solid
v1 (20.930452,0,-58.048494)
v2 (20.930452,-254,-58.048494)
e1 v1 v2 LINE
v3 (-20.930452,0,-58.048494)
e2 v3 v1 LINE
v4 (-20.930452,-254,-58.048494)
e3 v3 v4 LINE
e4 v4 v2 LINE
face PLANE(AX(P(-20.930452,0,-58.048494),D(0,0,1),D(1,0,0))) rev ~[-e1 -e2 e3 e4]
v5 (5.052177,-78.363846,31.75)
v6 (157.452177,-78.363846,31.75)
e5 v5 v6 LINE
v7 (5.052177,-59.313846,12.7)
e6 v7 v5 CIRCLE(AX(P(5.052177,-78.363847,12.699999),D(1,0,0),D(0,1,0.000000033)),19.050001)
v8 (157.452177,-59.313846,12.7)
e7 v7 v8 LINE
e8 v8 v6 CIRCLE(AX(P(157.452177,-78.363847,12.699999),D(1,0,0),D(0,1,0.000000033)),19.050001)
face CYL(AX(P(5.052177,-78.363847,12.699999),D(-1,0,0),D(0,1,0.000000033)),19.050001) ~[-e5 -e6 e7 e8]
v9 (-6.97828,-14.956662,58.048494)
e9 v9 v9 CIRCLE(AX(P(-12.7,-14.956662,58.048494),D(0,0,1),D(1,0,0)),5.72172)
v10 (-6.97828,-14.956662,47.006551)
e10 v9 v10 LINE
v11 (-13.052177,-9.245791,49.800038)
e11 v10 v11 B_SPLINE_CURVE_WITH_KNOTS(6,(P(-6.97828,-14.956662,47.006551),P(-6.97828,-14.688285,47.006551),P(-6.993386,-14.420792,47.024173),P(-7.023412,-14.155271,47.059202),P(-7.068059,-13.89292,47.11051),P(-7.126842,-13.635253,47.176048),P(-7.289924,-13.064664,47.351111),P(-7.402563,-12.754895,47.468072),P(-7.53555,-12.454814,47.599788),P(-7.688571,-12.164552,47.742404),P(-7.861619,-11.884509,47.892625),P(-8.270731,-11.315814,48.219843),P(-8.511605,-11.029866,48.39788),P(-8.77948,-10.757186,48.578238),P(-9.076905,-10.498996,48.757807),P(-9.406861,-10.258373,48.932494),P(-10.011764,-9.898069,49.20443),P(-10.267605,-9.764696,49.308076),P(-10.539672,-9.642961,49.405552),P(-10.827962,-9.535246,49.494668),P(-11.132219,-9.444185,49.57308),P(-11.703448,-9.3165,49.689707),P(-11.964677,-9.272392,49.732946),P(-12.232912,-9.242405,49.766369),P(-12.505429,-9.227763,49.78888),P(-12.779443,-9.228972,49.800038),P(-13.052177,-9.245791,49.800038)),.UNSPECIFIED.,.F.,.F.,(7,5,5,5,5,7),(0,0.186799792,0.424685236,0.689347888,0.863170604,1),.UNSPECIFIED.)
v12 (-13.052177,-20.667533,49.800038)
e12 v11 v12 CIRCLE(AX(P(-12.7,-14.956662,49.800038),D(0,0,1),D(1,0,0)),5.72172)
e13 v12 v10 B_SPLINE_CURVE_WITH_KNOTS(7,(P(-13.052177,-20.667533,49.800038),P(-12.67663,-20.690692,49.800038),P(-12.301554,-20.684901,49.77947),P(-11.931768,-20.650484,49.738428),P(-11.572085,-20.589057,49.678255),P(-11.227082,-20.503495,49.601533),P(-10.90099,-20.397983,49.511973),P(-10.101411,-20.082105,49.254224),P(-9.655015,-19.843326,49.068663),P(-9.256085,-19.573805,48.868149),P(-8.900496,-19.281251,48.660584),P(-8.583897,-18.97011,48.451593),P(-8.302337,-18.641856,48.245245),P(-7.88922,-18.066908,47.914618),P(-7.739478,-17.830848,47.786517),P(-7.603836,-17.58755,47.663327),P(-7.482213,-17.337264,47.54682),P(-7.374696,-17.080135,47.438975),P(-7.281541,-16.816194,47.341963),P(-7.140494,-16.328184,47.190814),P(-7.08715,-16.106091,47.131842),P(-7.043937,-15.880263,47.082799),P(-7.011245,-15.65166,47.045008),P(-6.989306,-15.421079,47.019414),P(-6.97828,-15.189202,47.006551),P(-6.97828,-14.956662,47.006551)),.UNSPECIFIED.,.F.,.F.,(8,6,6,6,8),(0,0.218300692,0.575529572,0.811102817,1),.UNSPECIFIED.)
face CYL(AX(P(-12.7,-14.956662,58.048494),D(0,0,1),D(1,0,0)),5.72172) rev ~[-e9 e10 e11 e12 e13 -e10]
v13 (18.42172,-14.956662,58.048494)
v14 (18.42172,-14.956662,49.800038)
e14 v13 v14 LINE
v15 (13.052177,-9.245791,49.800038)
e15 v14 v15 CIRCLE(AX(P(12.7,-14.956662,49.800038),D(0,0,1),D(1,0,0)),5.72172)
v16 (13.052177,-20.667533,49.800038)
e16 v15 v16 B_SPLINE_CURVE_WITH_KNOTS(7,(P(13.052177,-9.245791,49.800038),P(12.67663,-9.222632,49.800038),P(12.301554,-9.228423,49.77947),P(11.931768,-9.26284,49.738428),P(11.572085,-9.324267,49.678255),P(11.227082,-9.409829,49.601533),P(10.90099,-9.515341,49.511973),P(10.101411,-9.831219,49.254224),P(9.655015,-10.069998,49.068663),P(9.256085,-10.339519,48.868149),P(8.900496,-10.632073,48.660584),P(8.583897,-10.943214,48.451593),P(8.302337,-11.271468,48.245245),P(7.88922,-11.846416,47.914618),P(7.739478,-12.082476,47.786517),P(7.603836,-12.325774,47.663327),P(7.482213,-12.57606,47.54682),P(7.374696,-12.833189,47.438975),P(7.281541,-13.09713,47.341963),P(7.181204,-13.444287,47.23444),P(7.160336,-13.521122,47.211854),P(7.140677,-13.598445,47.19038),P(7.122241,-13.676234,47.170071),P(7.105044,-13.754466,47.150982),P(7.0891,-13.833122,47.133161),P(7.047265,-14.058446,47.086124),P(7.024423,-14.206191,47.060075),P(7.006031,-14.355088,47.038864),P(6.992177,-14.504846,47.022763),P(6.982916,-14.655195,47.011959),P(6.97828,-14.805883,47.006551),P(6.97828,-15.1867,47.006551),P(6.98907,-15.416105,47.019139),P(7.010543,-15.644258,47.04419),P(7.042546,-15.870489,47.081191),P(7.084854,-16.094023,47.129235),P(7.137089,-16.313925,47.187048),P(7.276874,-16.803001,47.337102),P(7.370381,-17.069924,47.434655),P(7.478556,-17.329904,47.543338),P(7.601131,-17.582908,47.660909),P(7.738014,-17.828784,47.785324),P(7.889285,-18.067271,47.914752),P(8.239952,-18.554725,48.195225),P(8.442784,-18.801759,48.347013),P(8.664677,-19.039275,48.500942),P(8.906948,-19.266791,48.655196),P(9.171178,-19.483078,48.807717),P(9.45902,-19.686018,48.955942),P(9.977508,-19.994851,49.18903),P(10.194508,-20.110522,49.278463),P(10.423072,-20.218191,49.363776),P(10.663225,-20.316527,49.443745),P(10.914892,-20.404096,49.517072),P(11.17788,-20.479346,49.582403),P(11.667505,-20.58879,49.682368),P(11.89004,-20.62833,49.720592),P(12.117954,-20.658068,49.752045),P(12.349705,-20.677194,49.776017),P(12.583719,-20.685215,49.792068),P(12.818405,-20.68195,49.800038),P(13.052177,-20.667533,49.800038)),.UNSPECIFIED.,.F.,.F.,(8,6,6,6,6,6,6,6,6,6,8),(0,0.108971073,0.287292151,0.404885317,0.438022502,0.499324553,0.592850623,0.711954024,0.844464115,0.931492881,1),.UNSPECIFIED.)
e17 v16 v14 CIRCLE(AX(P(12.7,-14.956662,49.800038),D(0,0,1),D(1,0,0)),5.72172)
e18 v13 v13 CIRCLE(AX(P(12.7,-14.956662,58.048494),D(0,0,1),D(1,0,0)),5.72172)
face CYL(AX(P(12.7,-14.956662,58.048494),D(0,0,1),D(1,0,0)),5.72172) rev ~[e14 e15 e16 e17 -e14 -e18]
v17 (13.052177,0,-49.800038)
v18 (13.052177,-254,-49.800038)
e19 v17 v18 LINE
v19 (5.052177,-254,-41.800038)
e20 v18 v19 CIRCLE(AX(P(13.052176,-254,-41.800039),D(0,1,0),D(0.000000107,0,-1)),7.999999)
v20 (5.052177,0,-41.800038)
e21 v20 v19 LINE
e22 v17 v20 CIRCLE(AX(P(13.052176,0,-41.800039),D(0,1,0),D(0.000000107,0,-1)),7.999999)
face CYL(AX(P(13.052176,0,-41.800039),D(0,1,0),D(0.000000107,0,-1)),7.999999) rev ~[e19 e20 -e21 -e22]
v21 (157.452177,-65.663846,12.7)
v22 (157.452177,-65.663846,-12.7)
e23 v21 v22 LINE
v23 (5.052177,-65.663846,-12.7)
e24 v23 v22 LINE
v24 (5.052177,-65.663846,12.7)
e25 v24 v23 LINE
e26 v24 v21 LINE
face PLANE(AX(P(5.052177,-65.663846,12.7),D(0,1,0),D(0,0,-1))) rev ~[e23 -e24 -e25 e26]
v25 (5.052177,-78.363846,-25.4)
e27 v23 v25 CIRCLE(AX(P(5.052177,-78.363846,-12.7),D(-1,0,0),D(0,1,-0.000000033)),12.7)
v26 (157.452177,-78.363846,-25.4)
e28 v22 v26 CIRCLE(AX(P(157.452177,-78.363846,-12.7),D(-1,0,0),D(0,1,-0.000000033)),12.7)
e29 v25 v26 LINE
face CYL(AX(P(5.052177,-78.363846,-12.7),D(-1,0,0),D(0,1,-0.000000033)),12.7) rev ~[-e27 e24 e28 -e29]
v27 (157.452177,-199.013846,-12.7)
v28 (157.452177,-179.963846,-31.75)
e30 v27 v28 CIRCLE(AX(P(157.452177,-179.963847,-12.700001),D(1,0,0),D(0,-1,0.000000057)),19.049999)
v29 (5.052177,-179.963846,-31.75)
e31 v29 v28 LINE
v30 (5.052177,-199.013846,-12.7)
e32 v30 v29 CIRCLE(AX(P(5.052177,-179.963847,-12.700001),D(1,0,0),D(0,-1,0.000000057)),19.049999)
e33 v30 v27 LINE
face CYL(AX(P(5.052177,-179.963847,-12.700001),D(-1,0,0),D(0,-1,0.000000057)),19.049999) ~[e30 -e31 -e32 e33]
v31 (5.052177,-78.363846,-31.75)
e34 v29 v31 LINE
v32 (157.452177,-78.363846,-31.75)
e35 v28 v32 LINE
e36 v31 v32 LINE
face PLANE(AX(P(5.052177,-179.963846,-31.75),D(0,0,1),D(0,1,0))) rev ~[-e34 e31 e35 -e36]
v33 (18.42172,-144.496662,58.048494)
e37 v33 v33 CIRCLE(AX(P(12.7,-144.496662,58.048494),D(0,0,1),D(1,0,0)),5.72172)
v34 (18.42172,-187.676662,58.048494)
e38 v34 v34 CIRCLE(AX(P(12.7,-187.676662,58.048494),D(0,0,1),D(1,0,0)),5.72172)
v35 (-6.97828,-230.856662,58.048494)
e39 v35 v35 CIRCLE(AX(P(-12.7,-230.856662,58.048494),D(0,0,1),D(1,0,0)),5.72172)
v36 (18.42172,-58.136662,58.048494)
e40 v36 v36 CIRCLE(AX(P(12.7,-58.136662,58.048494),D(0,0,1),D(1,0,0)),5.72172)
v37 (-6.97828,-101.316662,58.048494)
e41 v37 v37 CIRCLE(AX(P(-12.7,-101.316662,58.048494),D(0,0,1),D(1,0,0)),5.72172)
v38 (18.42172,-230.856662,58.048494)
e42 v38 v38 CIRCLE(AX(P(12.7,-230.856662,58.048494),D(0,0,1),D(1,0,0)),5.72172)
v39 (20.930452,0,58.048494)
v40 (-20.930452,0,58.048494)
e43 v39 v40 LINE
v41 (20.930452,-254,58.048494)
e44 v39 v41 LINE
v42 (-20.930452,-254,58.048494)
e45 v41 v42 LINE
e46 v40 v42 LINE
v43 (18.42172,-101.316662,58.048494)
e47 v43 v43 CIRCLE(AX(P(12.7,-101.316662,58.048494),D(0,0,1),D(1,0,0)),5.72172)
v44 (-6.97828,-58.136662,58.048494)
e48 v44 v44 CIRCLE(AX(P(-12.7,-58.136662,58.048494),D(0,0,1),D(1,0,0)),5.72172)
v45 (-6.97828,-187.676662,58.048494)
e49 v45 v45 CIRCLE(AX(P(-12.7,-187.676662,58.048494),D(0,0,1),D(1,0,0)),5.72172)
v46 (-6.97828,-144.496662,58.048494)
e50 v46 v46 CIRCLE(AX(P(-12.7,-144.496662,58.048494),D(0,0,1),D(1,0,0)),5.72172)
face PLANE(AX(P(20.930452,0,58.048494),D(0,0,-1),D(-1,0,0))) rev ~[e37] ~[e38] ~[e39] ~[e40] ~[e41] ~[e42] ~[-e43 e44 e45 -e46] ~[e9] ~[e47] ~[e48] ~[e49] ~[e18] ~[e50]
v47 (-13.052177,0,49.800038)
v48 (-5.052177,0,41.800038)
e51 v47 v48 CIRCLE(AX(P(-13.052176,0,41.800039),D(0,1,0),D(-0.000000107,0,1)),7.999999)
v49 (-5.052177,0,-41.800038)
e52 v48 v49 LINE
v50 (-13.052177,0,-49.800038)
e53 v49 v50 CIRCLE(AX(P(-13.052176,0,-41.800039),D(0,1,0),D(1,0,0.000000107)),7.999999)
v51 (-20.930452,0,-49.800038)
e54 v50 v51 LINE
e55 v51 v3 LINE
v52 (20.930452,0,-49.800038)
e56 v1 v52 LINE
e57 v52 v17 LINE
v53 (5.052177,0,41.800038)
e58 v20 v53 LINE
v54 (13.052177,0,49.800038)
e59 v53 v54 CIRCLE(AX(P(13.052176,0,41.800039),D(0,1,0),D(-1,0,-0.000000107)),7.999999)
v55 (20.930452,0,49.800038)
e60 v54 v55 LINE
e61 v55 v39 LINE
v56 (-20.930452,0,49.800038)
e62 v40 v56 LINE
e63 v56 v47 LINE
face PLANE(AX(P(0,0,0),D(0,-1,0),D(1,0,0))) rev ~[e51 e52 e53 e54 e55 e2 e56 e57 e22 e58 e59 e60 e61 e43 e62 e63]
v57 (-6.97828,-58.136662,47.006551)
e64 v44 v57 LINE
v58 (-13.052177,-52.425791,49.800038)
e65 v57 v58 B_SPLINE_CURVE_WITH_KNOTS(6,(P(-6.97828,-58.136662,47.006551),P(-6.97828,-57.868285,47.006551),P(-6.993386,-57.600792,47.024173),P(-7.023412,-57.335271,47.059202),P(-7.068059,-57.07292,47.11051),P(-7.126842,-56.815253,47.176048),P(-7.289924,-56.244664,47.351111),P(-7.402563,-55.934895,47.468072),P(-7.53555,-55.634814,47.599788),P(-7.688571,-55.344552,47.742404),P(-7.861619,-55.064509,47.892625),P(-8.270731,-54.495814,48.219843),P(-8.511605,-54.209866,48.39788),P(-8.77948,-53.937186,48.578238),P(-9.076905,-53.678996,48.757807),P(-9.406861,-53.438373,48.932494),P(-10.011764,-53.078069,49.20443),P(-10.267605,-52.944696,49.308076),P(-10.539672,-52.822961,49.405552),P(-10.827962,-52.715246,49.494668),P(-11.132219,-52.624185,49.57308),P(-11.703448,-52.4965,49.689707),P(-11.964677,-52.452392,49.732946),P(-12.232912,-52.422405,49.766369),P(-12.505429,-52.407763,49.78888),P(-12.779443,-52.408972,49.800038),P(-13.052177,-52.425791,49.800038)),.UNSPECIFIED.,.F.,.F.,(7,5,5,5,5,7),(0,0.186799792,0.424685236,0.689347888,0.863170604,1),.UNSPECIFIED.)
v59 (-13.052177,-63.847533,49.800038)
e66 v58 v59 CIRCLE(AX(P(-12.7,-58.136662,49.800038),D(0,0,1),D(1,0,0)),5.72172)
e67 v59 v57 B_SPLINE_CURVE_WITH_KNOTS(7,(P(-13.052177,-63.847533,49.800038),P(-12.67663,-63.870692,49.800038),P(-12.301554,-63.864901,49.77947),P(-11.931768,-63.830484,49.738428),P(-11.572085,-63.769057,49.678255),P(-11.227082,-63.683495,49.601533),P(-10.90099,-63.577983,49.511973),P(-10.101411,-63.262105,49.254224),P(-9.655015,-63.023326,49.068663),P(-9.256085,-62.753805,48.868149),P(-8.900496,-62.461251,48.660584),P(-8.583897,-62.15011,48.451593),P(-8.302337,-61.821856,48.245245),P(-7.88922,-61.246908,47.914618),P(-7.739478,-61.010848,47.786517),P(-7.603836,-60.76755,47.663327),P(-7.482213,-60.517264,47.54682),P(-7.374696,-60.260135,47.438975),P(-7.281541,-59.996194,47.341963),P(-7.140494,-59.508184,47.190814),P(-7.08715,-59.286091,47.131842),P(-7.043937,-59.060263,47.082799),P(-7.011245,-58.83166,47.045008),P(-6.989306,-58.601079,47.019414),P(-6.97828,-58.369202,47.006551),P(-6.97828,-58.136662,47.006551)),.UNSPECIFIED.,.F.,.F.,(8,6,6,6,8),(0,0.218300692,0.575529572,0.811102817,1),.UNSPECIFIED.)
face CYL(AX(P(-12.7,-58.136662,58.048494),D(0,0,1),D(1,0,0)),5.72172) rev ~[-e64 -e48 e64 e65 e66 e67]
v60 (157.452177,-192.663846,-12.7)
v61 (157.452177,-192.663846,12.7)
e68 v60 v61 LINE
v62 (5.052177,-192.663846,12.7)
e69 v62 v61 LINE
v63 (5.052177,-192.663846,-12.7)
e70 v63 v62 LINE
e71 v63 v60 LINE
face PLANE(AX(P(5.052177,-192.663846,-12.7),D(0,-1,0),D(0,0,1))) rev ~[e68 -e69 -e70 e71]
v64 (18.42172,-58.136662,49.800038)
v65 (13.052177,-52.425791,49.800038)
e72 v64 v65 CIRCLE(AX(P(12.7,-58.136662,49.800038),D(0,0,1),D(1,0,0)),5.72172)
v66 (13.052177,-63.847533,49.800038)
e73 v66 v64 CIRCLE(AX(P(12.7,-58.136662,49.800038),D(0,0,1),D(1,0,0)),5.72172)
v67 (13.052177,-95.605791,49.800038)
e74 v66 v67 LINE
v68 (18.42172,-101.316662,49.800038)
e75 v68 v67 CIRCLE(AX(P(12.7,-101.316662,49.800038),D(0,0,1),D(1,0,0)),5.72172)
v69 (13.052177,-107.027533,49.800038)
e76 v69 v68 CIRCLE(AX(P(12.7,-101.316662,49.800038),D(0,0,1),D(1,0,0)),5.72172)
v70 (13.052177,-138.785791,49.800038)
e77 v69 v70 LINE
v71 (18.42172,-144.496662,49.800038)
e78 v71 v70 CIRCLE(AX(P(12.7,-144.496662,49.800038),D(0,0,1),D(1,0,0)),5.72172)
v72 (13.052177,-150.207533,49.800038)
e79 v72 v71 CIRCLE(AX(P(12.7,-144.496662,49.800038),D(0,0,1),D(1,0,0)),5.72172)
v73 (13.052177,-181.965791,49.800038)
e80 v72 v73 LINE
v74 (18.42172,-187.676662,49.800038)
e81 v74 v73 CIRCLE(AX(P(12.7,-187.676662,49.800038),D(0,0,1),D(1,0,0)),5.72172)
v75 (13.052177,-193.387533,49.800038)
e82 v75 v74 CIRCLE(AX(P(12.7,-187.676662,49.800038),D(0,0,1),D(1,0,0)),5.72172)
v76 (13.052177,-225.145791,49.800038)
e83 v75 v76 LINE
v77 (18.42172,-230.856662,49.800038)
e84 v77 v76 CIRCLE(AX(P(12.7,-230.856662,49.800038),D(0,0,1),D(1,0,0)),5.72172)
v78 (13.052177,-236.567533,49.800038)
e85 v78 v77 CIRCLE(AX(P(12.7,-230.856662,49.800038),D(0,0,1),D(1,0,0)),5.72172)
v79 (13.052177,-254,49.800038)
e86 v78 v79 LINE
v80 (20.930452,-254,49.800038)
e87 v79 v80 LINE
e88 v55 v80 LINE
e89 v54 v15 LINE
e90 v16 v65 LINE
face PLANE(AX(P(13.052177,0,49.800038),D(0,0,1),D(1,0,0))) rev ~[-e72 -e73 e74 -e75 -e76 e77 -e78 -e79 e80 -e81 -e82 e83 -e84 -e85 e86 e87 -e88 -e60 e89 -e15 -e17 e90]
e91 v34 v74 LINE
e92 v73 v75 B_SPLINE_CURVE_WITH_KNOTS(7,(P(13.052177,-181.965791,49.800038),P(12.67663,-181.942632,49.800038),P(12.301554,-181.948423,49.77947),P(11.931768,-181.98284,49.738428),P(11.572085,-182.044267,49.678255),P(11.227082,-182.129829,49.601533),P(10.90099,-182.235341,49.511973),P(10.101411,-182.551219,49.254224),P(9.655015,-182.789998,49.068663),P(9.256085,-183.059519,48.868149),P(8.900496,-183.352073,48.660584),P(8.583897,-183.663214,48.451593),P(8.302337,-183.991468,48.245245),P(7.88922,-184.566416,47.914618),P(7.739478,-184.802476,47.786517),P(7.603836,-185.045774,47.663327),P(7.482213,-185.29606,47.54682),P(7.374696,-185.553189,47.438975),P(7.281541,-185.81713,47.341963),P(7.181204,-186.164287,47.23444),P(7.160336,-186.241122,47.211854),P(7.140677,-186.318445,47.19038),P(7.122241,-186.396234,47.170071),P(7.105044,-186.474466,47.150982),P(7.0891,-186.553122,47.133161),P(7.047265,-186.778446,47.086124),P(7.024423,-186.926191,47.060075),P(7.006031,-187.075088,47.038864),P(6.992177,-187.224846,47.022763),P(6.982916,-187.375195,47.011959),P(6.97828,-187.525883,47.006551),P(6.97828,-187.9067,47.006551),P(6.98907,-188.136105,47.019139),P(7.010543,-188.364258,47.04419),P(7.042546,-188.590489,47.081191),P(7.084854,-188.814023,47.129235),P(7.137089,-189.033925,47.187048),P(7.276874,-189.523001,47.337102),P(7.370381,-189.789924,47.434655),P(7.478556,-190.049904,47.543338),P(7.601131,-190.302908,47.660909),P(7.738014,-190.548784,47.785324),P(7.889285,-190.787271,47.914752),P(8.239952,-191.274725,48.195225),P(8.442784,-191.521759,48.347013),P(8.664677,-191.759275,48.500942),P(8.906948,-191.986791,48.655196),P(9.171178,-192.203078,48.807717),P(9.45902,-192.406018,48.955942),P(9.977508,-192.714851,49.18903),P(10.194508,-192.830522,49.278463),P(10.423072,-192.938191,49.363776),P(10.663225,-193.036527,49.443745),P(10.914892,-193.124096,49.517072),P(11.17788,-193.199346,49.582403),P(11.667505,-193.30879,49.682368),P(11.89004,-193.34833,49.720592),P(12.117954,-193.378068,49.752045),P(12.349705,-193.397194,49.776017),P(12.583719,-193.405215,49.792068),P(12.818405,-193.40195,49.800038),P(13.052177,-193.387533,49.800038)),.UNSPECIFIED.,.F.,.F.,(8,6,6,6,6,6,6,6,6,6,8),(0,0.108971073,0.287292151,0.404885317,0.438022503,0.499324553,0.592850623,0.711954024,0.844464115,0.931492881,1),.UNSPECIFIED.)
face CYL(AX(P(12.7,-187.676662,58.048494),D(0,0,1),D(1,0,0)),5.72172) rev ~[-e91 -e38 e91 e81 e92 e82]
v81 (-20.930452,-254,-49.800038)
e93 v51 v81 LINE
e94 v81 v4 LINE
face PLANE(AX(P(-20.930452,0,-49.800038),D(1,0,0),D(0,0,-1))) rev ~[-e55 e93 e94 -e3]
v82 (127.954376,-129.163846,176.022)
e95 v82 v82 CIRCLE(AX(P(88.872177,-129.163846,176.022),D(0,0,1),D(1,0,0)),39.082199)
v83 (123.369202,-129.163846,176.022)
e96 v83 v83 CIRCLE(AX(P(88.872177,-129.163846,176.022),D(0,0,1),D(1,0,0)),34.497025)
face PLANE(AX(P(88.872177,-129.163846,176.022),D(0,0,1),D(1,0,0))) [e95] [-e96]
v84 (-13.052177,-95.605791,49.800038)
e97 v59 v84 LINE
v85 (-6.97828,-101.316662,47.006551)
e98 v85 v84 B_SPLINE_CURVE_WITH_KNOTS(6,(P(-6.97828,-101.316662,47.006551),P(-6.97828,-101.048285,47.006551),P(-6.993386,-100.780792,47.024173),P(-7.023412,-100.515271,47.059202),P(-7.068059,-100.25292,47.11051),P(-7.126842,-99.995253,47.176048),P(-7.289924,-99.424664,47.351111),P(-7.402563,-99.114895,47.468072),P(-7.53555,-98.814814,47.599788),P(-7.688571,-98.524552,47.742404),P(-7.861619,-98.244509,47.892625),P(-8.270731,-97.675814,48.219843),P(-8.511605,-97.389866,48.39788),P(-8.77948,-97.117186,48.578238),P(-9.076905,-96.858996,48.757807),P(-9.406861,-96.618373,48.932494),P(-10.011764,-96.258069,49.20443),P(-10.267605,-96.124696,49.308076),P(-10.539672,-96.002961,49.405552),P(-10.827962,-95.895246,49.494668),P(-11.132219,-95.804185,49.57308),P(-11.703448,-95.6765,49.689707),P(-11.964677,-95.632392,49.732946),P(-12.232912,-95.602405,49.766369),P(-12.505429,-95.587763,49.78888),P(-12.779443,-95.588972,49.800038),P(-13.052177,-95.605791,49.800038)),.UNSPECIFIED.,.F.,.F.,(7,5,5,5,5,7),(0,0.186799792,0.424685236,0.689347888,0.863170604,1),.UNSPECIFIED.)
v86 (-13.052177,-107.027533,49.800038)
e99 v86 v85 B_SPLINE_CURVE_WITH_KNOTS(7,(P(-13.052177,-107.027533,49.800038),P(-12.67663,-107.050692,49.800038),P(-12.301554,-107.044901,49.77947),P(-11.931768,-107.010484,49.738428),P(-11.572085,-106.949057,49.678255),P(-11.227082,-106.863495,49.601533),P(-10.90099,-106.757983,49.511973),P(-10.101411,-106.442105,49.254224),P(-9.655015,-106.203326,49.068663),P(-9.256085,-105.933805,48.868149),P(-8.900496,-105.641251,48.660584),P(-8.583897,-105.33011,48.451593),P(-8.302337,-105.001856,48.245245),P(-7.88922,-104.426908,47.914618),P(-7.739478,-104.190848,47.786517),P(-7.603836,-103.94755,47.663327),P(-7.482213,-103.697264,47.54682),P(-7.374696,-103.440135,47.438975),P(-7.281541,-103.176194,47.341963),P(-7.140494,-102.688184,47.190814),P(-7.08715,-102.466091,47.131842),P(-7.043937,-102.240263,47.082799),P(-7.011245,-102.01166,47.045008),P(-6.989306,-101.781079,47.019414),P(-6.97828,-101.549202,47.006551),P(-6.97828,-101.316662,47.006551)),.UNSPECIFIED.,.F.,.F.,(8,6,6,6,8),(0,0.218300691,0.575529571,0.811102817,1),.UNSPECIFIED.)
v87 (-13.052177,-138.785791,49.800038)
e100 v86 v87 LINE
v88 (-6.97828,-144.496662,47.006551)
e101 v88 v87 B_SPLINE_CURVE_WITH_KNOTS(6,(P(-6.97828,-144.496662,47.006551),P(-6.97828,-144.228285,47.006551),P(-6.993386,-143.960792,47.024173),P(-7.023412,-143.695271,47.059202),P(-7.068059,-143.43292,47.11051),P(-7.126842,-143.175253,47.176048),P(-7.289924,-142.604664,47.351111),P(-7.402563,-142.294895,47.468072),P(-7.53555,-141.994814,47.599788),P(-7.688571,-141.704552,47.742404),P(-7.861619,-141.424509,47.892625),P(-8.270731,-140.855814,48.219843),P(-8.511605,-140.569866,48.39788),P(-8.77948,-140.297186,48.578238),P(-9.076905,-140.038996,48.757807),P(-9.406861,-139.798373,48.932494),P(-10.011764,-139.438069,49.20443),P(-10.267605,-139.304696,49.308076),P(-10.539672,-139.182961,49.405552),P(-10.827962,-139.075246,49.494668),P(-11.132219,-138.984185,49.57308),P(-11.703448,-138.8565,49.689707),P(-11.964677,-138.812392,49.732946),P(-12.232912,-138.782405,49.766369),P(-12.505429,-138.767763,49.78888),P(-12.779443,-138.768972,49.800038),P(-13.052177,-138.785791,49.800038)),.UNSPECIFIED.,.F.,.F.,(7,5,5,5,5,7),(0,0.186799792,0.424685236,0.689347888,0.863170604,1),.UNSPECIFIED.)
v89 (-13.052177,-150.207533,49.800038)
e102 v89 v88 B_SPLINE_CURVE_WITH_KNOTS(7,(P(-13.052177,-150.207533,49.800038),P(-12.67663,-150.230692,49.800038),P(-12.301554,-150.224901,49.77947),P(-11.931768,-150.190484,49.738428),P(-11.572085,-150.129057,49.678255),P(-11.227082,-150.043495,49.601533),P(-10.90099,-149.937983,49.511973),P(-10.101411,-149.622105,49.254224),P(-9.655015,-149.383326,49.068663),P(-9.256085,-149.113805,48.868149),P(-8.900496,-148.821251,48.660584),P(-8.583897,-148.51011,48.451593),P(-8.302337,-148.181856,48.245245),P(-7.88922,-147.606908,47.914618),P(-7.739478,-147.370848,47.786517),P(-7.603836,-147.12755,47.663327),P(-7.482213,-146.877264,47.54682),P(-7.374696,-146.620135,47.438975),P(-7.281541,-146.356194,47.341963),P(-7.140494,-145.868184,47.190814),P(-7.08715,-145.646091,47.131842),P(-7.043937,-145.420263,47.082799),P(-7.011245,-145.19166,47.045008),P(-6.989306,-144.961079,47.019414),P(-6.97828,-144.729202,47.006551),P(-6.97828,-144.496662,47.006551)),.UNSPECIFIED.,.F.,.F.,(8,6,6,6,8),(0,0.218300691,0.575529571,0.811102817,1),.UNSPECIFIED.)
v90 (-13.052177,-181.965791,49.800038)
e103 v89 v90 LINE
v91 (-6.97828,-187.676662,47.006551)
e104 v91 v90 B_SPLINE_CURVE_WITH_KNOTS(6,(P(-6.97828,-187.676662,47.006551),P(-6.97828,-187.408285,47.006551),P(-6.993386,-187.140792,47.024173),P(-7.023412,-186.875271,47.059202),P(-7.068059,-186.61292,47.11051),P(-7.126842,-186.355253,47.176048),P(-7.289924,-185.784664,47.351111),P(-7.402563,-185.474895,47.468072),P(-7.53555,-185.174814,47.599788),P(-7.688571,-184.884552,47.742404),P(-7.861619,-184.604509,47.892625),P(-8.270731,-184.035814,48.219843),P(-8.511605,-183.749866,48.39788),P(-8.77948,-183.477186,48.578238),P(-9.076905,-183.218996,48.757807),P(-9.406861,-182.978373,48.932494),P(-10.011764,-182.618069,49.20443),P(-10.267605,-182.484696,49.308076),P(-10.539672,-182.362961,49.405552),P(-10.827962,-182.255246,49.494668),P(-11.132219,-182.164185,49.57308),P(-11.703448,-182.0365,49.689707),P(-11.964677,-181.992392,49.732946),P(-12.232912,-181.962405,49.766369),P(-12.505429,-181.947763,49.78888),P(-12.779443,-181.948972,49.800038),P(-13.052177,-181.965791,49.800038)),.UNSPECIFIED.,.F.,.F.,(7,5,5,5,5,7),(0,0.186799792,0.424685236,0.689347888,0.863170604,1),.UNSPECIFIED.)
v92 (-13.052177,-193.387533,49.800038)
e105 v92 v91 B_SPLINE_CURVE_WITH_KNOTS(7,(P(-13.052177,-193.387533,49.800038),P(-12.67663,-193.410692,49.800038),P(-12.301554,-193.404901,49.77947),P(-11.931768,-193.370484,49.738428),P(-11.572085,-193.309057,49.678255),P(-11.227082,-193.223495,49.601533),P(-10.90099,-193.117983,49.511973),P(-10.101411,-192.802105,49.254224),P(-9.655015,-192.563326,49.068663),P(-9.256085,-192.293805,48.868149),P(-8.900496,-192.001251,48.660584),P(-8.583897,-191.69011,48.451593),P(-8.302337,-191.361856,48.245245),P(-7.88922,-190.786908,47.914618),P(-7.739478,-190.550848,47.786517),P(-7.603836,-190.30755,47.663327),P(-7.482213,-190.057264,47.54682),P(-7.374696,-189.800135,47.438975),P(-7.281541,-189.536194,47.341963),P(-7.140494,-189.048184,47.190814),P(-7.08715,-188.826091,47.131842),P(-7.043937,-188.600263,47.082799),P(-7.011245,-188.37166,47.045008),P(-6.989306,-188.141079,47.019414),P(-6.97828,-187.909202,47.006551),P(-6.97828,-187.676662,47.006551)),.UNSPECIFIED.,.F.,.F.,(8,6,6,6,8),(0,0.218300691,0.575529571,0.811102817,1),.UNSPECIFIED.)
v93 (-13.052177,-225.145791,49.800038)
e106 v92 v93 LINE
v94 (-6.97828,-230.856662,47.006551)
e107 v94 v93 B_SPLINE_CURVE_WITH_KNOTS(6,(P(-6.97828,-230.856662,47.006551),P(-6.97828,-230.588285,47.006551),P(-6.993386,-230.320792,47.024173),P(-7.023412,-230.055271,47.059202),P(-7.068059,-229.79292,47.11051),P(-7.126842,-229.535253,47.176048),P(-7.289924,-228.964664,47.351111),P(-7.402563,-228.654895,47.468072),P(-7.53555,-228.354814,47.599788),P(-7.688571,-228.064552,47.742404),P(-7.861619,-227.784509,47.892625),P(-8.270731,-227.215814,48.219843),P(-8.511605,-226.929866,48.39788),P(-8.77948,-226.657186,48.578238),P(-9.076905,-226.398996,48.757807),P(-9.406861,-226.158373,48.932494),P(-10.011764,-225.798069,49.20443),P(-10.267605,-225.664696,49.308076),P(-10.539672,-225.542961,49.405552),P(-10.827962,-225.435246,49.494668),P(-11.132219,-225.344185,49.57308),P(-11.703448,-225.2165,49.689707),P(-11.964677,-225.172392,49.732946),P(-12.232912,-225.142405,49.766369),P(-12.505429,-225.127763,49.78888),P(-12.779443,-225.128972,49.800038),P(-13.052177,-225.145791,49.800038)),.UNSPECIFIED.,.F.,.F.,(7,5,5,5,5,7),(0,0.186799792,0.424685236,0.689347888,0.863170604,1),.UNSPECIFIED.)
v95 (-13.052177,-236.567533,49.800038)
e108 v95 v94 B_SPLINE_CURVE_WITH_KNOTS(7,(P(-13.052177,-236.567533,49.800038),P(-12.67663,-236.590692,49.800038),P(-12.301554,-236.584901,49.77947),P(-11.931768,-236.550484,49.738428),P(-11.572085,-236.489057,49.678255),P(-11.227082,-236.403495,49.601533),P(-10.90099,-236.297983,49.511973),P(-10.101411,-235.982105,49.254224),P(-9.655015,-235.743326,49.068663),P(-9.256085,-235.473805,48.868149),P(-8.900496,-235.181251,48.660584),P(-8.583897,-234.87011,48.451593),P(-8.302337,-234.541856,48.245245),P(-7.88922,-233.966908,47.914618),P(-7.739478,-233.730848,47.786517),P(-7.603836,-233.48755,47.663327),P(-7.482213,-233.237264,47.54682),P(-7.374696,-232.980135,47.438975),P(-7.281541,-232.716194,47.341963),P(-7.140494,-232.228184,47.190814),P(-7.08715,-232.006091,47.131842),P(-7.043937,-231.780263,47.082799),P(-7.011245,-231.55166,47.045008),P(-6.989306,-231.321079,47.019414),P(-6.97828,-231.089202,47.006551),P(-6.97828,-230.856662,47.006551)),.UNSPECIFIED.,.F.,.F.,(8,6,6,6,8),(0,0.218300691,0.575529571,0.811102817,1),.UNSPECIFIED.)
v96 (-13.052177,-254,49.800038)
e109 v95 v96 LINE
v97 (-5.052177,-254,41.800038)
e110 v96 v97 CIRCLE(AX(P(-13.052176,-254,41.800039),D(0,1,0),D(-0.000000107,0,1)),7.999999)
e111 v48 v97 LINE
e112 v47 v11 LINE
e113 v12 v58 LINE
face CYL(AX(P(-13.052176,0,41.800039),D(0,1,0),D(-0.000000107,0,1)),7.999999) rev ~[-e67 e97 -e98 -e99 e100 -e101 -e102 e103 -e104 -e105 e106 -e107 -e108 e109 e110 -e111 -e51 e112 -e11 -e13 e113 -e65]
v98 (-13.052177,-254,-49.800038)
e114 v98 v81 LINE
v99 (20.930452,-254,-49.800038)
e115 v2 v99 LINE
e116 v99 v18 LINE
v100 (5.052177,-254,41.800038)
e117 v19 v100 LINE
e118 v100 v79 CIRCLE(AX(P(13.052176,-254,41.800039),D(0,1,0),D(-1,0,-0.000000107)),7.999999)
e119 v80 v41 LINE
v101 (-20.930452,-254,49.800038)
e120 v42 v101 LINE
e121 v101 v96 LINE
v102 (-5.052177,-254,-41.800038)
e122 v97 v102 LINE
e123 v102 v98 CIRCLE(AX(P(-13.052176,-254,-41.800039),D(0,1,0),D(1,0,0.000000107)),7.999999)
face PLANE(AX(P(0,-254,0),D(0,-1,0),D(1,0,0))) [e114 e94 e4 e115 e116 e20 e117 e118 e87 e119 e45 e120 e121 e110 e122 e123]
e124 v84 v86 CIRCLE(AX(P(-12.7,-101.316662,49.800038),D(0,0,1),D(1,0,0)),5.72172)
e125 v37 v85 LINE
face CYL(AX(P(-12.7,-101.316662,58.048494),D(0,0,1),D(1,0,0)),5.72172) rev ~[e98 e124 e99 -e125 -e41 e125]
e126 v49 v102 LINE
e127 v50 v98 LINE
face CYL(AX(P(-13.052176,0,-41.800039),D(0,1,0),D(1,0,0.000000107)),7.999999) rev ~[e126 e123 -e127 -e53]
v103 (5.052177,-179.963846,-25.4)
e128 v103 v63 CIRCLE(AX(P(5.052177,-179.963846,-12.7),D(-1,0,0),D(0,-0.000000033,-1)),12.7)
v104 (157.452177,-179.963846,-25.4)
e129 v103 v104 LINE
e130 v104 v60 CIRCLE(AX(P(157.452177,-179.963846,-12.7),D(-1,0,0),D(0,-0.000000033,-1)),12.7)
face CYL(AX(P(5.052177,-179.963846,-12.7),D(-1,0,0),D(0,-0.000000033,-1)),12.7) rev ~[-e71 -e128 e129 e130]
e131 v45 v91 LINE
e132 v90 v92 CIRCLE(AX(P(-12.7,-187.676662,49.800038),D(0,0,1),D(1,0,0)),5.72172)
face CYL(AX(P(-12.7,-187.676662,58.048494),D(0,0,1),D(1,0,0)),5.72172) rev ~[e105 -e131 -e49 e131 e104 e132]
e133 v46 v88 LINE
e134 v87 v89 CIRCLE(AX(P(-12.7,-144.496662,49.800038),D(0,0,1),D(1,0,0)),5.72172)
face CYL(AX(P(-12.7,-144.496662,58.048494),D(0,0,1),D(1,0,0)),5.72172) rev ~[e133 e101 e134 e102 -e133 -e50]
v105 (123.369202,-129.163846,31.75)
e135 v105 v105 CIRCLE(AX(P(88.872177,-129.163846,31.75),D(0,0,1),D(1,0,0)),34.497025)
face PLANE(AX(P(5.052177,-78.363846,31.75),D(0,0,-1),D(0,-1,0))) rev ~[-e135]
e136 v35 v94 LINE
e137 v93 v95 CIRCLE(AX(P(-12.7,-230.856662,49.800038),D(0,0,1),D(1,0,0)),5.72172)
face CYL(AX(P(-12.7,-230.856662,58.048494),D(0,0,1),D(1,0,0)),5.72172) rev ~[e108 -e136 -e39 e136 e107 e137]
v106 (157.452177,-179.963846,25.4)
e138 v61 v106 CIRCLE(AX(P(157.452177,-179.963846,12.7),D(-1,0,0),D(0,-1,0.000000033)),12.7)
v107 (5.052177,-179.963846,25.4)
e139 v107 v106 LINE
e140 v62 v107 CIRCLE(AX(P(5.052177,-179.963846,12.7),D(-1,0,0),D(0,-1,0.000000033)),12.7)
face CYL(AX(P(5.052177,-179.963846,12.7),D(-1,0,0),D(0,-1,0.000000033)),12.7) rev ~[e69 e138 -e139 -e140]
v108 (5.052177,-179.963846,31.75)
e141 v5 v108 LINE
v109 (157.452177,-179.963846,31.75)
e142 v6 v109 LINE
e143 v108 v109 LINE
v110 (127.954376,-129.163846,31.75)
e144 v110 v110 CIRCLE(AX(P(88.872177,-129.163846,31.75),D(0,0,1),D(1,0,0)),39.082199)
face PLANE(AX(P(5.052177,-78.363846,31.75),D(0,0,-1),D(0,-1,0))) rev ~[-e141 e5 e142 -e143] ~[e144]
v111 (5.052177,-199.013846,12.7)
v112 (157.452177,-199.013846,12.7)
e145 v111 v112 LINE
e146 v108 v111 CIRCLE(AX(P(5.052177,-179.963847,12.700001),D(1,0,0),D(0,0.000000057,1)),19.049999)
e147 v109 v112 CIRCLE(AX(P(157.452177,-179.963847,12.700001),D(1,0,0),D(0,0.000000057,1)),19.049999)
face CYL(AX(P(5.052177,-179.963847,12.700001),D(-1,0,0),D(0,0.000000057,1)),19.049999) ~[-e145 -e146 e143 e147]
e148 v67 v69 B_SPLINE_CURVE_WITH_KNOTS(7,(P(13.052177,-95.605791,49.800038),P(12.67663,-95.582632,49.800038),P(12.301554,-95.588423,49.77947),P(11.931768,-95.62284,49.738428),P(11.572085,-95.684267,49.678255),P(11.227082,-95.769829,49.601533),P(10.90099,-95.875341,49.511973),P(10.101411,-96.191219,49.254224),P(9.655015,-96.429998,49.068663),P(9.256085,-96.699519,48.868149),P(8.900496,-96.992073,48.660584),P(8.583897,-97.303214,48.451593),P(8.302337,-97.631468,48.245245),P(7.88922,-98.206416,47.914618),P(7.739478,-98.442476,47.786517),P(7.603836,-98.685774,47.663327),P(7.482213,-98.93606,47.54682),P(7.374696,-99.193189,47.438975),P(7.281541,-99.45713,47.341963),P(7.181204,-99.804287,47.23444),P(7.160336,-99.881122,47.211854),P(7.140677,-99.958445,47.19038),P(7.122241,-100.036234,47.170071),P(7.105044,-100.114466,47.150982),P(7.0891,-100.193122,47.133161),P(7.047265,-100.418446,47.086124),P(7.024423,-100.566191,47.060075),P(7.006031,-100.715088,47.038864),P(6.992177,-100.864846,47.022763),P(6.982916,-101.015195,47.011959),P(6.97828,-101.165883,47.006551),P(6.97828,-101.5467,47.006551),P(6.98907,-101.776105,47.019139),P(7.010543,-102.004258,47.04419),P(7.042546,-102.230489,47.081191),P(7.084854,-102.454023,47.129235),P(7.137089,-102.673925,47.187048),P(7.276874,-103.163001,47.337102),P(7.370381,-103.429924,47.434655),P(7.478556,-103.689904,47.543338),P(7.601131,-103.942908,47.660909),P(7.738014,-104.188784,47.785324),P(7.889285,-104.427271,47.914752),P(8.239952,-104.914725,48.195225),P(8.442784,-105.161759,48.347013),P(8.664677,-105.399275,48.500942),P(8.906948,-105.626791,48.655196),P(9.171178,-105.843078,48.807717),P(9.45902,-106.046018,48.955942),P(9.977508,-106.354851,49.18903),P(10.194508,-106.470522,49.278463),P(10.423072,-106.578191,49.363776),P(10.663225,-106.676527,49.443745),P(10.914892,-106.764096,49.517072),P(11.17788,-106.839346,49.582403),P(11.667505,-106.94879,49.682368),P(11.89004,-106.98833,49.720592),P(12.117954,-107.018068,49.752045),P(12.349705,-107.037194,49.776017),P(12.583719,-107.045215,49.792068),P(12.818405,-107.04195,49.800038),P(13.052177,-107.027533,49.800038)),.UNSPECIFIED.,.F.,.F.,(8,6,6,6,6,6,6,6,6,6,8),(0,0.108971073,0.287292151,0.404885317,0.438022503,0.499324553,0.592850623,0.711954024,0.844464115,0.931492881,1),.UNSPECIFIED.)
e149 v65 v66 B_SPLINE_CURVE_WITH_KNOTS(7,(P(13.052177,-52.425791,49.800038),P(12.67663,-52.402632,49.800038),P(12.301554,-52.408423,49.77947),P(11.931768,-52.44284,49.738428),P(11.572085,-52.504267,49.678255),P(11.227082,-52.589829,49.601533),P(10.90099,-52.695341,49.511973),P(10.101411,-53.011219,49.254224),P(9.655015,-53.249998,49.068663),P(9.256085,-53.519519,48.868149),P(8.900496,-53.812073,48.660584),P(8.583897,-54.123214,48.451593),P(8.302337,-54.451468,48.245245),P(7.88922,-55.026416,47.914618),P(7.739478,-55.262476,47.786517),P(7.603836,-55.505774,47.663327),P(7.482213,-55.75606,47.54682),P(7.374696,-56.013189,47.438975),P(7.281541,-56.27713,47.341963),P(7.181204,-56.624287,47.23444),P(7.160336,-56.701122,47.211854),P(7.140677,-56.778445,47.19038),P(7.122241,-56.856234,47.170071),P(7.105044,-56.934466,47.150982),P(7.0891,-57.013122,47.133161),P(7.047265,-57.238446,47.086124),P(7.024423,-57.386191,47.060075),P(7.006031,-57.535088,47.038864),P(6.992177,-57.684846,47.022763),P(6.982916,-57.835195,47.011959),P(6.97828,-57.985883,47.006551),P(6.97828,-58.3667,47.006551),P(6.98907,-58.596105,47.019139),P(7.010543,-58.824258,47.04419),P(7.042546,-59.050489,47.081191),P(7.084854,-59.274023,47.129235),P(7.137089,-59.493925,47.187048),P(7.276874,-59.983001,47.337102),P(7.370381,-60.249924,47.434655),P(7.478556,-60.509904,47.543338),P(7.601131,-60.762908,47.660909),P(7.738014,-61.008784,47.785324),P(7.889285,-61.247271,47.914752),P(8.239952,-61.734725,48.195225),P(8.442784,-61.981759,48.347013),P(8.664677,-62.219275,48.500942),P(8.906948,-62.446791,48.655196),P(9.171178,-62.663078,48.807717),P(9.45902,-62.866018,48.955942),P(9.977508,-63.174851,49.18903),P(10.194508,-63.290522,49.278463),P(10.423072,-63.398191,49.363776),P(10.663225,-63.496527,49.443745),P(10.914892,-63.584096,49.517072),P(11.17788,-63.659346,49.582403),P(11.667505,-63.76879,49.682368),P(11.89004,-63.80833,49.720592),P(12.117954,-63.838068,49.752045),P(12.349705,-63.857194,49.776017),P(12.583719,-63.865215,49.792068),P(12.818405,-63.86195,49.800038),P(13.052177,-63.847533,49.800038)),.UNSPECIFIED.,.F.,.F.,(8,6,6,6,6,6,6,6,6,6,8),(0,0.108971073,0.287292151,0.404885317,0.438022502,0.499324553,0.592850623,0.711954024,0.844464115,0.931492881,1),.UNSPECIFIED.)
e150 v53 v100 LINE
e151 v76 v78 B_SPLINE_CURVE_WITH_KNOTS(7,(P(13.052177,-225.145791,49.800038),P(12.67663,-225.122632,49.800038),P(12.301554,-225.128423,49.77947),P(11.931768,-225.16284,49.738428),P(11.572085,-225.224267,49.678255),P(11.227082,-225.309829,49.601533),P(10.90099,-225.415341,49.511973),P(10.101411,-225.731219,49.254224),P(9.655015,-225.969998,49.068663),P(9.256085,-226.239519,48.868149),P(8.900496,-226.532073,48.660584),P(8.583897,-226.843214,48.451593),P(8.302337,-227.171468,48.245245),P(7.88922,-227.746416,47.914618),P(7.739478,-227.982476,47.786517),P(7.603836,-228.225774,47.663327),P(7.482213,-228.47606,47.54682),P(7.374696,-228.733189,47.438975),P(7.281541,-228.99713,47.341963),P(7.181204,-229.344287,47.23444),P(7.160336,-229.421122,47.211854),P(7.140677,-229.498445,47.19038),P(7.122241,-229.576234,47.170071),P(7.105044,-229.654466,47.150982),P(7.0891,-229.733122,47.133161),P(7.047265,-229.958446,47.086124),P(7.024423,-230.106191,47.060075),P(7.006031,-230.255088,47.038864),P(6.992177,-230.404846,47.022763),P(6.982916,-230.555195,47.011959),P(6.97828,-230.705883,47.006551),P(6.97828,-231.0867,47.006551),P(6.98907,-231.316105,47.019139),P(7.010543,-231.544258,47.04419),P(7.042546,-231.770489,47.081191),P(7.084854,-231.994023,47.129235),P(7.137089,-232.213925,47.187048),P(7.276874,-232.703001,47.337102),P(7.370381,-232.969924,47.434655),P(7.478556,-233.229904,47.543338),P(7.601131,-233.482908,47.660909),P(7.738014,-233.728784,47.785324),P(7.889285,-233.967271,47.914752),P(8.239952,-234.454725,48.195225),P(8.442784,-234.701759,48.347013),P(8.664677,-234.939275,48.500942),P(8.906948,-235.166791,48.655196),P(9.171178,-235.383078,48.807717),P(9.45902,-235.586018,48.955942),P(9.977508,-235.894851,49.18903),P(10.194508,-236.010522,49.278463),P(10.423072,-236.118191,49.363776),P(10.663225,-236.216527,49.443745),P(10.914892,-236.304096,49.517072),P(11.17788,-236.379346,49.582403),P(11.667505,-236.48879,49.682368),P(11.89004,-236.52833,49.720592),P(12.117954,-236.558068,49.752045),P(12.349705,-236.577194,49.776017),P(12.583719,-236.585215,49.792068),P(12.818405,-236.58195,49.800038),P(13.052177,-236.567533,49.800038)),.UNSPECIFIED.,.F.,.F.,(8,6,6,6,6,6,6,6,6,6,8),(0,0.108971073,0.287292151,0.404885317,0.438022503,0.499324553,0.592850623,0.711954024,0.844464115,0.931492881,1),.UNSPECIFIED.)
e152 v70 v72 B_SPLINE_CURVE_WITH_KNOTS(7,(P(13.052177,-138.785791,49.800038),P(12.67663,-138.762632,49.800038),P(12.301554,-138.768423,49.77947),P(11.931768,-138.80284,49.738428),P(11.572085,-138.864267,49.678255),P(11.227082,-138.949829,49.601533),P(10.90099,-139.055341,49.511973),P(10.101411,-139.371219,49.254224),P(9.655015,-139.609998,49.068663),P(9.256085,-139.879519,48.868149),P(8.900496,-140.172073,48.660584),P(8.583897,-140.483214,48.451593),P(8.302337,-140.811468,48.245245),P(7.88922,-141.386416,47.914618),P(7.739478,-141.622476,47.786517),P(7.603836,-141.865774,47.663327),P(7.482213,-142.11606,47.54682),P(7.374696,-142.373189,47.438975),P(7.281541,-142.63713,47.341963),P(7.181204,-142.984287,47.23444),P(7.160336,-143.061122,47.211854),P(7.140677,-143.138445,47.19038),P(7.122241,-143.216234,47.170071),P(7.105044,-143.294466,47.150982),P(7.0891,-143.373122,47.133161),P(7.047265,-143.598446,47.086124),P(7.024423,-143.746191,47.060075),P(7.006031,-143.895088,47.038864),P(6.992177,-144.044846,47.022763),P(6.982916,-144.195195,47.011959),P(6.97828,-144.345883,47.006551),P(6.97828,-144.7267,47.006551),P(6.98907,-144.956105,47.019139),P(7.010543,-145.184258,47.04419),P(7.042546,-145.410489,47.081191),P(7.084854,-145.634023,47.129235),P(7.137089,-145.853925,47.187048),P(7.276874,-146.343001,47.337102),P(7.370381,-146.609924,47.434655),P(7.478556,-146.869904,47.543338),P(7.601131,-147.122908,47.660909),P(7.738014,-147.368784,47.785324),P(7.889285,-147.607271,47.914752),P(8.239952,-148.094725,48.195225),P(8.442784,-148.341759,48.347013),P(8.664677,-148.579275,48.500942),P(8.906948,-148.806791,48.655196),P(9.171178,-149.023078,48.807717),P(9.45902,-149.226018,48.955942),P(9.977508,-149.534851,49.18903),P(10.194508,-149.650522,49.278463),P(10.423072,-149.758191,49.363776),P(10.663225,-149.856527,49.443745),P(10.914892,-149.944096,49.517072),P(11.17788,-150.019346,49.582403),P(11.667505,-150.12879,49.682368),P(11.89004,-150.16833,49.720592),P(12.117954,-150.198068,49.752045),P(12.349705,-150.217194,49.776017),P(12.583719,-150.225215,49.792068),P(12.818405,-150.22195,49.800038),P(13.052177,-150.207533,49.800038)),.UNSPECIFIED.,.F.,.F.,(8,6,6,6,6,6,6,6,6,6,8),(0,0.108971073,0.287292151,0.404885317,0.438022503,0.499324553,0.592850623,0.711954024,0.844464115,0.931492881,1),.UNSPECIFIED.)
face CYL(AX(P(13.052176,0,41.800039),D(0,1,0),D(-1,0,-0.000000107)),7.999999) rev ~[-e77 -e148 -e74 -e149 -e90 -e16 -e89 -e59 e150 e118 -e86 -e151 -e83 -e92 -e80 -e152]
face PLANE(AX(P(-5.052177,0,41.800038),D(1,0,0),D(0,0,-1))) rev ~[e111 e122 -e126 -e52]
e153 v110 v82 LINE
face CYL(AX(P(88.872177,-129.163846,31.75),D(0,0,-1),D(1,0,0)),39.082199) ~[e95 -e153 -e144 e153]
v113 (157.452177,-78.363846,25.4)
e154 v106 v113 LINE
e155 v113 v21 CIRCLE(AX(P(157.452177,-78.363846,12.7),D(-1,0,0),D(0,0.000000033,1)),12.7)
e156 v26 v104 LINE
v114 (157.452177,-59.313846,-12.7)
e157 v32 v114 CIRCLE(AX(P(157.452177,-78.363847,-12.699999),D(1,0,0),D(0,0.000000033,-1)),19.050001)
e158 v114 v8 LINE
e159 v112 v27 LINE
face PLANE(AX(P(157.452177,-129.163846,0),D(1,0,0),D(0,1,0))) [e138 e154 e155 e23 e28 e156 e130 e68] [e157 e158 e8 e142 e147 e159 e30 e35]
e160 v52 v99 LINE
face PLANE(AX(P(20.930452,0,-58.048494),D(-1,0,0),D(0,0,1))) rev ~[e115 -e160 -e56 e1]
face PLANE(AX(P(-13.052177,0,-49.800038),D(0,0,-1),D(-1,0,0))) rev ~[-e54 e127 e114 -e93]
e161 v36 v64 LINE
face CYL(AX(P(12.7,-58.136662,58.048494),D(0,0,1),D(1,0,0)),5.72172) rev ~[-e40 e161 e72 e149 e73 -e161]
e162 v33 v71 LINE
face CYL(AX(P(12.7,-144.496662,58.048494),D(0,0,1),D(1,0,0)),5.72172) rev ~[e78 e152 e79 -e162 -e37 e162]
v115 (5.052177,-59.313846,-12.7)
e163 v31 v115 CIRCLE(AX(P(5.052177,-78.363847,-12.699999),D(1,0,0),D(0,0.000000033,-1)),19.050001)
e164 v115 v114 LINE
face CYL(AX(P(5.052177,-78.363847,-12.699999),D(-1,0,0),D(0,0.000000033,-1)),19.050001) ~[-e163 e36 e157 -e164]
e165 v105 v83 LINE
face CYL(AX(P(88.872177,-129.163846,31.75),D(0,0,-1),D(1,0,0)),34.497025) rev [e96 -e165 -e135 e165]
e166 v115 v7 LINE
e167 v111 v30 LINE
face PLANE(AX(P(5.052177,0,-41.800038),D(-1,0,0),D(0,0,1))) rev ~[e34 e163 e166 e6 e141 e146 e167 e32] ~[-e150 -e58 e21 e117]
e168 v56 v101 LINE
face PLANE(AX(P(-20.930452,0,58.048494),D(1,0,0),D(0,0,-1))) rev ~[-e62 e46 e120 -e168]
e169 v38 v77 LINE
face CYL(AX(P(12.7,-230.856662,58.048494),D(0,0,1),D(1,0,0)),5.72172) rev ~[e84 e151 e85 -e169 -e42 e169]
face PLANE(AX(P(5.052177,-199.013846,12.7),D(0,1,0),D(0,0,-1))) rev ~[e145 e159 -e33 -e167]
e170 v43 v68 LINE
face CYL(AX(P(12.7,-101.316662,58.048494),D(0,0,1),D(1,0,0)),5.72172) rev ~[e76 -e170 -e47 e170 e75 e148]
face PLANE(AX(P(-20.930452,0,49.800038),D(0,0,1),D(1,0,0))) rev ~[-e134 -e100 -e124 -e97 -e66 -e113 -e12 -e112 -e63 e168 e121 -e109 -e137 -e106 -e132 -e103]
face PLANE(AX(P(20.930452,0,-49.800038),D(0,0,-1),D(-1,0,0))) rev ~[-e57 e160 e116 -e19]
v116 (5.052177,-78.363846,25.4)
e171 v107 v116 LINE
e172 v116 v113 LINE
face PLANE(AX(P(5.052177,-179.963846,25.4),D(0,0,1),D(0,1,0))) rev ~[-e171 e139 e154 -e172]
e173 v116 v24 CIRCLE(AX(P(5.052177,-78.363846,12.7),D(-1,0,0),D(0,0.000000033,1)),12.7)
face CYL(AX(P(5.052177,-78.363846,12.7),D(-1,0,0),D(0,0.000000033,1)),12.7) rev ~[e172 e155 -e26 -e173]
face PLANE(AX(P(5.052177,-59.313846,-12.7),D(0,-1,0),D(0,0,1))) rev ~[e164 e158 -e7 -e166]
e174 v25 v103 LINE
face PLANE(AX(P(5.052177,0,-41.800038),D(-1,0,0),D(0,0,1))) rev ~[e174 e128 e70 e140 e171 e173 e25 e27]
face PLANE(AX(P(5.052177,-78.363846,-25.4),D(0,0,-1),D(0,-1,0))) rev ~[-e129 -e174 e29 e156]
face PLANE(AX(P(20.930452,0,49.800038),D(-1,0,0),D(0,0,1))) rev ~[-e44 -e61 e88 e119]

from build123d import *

# Parameters (mm, degrees)
F1_DEPTH = 254
F2_R     = 5.72172
F3_DEPTH = 25.4
F5_DEPTH = 152.4
F6_R     = 39.082199
F6_R_2   = 34.497025
F7_DEPTH = 144.272


with BuildPart() as f1:
    # F0 (on Front) → F1 (new body)
    with BuildSketch(Plane.XZ):
        with BuildLine():
            Line((-5.052177, -58.048494), (5.052177, -58.048494))
            Line((5.052177, -58.048494), (20.930452, -58.048494))
            Line((20.930452, -58.048494), (20.930452, -49.800038))
            Line((20.930452, -49.800038), (13.052177, -49.800038))
            ThreePointArc((13.052177, -49.800038), (7.395323, -47.456893), (5.052177, -41.800038))
            Line((5.052177, -41.800038), (5.052177, 41.800038))
            ThreePointArc((5.052177, 41.800038), (7.395323, 47.456893), (13.052177, 49.800038))
            Line((13.052177, 49.800038), (20.930452, 49.800038))
            Line((20.930452, 49.800038), (20.930452, 58.048494))
            Line((20.930452, 58.048494), (5.052177, 58.048494))
            Line((5.052177, 58.048494), (-5.052177, 58.048494))
            Line((-5.052177, 58.048494), (-20.930452, 58.048494))
            Line((-20.930452, 58.048494), (-20.930452, 49.800038))
            Line((-20.930452, 49.800038), (-13.052177, 49.800038))
            ThreePointArc((-13.052177, 49.800038), (-7.395323, 47.456893), (-5.052177, 41.800038))
            Line((-5.052177, 41.800038), (-5.052177, -41.800038))
            ThreePointArc((-5.052177, -41.800038), (-7.395323, -47.456893), (-13.052177, -49.800038))
            Line((-13.052177, -49.800038), (-20.930452, -49.800038))
            Line((-20.930452, -49.800038), (-20.930452, -58.048494))
            Line((-20.930452, -58.048494), (-5.052177, -58.048494))
        make_face()
    extrude(amount=F1_DEPTH)

    # F2 (on face) → F3 (cut)
    with BuildSketch(Plane.XY.offset(58.048494)):
        with Locations((12.7, -14.956662)):
            Circle(F2_R)
        with Locations((12.7, -58.136662)):
            Circle(F2_R)
        with Locations((12.7, -101.316662)):
            Circle(F2_R)
        with Locations((12.7, -144.496662)):
            Circle(F2_R)
        with Locations((12.7, -187.676662)):
            Circle(F2_R)
        with Locations((12.7, -230.856662)):
            Circle(F2_R)
        with Locations((-12.7, -230.856662)):
            Circle(F2_R)
        with Locations((-12.7, -187.676662)):
            Circle(F2_R)
        with Locations((-12.7, -144.496662)):
            Circle(F2_R)
        with Locations((-12.7, -101.316662)):
            Circle(F2_R)
        with Locations((-12.7, -58.136662)):
            Circle(F2_R)
        with Locations((-12.7, -14.956662)):
            Circle(F2_R)
    extrude(amount=-F3_DEPTH, mode=Mode.SUBTRACT)

    # F4 (on face) → F5 (join)
    with BuildSketch(Plane.YZ.offset(5.052177)):
        with BuildLine():
            Line((-59.313846, -12.7), (-59.313846, 12.7))
            ThreePointArc((-59.313846, 12.7), (-64.893462, 26.170384), (-78.363846, 31.75))
            Line((-78.363846, 31.75), (-179.963846, 31.75))
            ThreePointArc((-179.963846, 31.75), (-193.434231, 26.170384), (-199.013846, 12.7))
            Line((-199.013846, 12.7), (-199.013846, -12.7))
            ThreePointArc((-199.013846, -12.7), (-193.434231, -26.170384), (-179.963846, -31.75))
            Line((-179.963846, -31.75), (-78.363846, -31.75))
            ThreePointArc((-78.363846, -31.75), (-64.893462, -26.170384), (-59.313846, -12.7))
        make_face()
        with BuildLine():
            ThreePointArc((-65.663846, -12.7), (-69.38359, -21.680256), (-78.363846, -25.4))
            Line((-78.363846, -25.4), (-179.963846, -25.4))
            ThreePointArc((-179.963846, -25.4), (-188.944102, -21.680256), (-192.663846, -12.7))
            Line((-192.663846, -12.7), (-192.663846, 12.7))
            ThreePointArc((-192.663846, 12.7), (-188.944102, 21.680256), (-179.963846, 25.4))
            Line((-179.963846, 25.4), (-78.363846, 25.4))
            ThreePointArc((-78.363846, 25.4), (-69.38359, 21.680256), (-65.663846, 12.7))
            Line((-65.663846, 12.7), (-65.663846, -12.7))
        make_face(mode=Mode.SUBTRACT)
    extrude(amount=F5_DEPTH)

    # F6 (on face) → F7 (join)
    with BuildSketch(Plane.XY.offset(31.75)):
        with Locations((88.872177, -129.163846)):
            Circle(F6_R)
        with Locations((88.872177, -129.163846)):
            Circle(F6_R_2, mode=Mode.SUBTRACT)
    extrude(amount=F7_DEPTH)


solid = f1.part
